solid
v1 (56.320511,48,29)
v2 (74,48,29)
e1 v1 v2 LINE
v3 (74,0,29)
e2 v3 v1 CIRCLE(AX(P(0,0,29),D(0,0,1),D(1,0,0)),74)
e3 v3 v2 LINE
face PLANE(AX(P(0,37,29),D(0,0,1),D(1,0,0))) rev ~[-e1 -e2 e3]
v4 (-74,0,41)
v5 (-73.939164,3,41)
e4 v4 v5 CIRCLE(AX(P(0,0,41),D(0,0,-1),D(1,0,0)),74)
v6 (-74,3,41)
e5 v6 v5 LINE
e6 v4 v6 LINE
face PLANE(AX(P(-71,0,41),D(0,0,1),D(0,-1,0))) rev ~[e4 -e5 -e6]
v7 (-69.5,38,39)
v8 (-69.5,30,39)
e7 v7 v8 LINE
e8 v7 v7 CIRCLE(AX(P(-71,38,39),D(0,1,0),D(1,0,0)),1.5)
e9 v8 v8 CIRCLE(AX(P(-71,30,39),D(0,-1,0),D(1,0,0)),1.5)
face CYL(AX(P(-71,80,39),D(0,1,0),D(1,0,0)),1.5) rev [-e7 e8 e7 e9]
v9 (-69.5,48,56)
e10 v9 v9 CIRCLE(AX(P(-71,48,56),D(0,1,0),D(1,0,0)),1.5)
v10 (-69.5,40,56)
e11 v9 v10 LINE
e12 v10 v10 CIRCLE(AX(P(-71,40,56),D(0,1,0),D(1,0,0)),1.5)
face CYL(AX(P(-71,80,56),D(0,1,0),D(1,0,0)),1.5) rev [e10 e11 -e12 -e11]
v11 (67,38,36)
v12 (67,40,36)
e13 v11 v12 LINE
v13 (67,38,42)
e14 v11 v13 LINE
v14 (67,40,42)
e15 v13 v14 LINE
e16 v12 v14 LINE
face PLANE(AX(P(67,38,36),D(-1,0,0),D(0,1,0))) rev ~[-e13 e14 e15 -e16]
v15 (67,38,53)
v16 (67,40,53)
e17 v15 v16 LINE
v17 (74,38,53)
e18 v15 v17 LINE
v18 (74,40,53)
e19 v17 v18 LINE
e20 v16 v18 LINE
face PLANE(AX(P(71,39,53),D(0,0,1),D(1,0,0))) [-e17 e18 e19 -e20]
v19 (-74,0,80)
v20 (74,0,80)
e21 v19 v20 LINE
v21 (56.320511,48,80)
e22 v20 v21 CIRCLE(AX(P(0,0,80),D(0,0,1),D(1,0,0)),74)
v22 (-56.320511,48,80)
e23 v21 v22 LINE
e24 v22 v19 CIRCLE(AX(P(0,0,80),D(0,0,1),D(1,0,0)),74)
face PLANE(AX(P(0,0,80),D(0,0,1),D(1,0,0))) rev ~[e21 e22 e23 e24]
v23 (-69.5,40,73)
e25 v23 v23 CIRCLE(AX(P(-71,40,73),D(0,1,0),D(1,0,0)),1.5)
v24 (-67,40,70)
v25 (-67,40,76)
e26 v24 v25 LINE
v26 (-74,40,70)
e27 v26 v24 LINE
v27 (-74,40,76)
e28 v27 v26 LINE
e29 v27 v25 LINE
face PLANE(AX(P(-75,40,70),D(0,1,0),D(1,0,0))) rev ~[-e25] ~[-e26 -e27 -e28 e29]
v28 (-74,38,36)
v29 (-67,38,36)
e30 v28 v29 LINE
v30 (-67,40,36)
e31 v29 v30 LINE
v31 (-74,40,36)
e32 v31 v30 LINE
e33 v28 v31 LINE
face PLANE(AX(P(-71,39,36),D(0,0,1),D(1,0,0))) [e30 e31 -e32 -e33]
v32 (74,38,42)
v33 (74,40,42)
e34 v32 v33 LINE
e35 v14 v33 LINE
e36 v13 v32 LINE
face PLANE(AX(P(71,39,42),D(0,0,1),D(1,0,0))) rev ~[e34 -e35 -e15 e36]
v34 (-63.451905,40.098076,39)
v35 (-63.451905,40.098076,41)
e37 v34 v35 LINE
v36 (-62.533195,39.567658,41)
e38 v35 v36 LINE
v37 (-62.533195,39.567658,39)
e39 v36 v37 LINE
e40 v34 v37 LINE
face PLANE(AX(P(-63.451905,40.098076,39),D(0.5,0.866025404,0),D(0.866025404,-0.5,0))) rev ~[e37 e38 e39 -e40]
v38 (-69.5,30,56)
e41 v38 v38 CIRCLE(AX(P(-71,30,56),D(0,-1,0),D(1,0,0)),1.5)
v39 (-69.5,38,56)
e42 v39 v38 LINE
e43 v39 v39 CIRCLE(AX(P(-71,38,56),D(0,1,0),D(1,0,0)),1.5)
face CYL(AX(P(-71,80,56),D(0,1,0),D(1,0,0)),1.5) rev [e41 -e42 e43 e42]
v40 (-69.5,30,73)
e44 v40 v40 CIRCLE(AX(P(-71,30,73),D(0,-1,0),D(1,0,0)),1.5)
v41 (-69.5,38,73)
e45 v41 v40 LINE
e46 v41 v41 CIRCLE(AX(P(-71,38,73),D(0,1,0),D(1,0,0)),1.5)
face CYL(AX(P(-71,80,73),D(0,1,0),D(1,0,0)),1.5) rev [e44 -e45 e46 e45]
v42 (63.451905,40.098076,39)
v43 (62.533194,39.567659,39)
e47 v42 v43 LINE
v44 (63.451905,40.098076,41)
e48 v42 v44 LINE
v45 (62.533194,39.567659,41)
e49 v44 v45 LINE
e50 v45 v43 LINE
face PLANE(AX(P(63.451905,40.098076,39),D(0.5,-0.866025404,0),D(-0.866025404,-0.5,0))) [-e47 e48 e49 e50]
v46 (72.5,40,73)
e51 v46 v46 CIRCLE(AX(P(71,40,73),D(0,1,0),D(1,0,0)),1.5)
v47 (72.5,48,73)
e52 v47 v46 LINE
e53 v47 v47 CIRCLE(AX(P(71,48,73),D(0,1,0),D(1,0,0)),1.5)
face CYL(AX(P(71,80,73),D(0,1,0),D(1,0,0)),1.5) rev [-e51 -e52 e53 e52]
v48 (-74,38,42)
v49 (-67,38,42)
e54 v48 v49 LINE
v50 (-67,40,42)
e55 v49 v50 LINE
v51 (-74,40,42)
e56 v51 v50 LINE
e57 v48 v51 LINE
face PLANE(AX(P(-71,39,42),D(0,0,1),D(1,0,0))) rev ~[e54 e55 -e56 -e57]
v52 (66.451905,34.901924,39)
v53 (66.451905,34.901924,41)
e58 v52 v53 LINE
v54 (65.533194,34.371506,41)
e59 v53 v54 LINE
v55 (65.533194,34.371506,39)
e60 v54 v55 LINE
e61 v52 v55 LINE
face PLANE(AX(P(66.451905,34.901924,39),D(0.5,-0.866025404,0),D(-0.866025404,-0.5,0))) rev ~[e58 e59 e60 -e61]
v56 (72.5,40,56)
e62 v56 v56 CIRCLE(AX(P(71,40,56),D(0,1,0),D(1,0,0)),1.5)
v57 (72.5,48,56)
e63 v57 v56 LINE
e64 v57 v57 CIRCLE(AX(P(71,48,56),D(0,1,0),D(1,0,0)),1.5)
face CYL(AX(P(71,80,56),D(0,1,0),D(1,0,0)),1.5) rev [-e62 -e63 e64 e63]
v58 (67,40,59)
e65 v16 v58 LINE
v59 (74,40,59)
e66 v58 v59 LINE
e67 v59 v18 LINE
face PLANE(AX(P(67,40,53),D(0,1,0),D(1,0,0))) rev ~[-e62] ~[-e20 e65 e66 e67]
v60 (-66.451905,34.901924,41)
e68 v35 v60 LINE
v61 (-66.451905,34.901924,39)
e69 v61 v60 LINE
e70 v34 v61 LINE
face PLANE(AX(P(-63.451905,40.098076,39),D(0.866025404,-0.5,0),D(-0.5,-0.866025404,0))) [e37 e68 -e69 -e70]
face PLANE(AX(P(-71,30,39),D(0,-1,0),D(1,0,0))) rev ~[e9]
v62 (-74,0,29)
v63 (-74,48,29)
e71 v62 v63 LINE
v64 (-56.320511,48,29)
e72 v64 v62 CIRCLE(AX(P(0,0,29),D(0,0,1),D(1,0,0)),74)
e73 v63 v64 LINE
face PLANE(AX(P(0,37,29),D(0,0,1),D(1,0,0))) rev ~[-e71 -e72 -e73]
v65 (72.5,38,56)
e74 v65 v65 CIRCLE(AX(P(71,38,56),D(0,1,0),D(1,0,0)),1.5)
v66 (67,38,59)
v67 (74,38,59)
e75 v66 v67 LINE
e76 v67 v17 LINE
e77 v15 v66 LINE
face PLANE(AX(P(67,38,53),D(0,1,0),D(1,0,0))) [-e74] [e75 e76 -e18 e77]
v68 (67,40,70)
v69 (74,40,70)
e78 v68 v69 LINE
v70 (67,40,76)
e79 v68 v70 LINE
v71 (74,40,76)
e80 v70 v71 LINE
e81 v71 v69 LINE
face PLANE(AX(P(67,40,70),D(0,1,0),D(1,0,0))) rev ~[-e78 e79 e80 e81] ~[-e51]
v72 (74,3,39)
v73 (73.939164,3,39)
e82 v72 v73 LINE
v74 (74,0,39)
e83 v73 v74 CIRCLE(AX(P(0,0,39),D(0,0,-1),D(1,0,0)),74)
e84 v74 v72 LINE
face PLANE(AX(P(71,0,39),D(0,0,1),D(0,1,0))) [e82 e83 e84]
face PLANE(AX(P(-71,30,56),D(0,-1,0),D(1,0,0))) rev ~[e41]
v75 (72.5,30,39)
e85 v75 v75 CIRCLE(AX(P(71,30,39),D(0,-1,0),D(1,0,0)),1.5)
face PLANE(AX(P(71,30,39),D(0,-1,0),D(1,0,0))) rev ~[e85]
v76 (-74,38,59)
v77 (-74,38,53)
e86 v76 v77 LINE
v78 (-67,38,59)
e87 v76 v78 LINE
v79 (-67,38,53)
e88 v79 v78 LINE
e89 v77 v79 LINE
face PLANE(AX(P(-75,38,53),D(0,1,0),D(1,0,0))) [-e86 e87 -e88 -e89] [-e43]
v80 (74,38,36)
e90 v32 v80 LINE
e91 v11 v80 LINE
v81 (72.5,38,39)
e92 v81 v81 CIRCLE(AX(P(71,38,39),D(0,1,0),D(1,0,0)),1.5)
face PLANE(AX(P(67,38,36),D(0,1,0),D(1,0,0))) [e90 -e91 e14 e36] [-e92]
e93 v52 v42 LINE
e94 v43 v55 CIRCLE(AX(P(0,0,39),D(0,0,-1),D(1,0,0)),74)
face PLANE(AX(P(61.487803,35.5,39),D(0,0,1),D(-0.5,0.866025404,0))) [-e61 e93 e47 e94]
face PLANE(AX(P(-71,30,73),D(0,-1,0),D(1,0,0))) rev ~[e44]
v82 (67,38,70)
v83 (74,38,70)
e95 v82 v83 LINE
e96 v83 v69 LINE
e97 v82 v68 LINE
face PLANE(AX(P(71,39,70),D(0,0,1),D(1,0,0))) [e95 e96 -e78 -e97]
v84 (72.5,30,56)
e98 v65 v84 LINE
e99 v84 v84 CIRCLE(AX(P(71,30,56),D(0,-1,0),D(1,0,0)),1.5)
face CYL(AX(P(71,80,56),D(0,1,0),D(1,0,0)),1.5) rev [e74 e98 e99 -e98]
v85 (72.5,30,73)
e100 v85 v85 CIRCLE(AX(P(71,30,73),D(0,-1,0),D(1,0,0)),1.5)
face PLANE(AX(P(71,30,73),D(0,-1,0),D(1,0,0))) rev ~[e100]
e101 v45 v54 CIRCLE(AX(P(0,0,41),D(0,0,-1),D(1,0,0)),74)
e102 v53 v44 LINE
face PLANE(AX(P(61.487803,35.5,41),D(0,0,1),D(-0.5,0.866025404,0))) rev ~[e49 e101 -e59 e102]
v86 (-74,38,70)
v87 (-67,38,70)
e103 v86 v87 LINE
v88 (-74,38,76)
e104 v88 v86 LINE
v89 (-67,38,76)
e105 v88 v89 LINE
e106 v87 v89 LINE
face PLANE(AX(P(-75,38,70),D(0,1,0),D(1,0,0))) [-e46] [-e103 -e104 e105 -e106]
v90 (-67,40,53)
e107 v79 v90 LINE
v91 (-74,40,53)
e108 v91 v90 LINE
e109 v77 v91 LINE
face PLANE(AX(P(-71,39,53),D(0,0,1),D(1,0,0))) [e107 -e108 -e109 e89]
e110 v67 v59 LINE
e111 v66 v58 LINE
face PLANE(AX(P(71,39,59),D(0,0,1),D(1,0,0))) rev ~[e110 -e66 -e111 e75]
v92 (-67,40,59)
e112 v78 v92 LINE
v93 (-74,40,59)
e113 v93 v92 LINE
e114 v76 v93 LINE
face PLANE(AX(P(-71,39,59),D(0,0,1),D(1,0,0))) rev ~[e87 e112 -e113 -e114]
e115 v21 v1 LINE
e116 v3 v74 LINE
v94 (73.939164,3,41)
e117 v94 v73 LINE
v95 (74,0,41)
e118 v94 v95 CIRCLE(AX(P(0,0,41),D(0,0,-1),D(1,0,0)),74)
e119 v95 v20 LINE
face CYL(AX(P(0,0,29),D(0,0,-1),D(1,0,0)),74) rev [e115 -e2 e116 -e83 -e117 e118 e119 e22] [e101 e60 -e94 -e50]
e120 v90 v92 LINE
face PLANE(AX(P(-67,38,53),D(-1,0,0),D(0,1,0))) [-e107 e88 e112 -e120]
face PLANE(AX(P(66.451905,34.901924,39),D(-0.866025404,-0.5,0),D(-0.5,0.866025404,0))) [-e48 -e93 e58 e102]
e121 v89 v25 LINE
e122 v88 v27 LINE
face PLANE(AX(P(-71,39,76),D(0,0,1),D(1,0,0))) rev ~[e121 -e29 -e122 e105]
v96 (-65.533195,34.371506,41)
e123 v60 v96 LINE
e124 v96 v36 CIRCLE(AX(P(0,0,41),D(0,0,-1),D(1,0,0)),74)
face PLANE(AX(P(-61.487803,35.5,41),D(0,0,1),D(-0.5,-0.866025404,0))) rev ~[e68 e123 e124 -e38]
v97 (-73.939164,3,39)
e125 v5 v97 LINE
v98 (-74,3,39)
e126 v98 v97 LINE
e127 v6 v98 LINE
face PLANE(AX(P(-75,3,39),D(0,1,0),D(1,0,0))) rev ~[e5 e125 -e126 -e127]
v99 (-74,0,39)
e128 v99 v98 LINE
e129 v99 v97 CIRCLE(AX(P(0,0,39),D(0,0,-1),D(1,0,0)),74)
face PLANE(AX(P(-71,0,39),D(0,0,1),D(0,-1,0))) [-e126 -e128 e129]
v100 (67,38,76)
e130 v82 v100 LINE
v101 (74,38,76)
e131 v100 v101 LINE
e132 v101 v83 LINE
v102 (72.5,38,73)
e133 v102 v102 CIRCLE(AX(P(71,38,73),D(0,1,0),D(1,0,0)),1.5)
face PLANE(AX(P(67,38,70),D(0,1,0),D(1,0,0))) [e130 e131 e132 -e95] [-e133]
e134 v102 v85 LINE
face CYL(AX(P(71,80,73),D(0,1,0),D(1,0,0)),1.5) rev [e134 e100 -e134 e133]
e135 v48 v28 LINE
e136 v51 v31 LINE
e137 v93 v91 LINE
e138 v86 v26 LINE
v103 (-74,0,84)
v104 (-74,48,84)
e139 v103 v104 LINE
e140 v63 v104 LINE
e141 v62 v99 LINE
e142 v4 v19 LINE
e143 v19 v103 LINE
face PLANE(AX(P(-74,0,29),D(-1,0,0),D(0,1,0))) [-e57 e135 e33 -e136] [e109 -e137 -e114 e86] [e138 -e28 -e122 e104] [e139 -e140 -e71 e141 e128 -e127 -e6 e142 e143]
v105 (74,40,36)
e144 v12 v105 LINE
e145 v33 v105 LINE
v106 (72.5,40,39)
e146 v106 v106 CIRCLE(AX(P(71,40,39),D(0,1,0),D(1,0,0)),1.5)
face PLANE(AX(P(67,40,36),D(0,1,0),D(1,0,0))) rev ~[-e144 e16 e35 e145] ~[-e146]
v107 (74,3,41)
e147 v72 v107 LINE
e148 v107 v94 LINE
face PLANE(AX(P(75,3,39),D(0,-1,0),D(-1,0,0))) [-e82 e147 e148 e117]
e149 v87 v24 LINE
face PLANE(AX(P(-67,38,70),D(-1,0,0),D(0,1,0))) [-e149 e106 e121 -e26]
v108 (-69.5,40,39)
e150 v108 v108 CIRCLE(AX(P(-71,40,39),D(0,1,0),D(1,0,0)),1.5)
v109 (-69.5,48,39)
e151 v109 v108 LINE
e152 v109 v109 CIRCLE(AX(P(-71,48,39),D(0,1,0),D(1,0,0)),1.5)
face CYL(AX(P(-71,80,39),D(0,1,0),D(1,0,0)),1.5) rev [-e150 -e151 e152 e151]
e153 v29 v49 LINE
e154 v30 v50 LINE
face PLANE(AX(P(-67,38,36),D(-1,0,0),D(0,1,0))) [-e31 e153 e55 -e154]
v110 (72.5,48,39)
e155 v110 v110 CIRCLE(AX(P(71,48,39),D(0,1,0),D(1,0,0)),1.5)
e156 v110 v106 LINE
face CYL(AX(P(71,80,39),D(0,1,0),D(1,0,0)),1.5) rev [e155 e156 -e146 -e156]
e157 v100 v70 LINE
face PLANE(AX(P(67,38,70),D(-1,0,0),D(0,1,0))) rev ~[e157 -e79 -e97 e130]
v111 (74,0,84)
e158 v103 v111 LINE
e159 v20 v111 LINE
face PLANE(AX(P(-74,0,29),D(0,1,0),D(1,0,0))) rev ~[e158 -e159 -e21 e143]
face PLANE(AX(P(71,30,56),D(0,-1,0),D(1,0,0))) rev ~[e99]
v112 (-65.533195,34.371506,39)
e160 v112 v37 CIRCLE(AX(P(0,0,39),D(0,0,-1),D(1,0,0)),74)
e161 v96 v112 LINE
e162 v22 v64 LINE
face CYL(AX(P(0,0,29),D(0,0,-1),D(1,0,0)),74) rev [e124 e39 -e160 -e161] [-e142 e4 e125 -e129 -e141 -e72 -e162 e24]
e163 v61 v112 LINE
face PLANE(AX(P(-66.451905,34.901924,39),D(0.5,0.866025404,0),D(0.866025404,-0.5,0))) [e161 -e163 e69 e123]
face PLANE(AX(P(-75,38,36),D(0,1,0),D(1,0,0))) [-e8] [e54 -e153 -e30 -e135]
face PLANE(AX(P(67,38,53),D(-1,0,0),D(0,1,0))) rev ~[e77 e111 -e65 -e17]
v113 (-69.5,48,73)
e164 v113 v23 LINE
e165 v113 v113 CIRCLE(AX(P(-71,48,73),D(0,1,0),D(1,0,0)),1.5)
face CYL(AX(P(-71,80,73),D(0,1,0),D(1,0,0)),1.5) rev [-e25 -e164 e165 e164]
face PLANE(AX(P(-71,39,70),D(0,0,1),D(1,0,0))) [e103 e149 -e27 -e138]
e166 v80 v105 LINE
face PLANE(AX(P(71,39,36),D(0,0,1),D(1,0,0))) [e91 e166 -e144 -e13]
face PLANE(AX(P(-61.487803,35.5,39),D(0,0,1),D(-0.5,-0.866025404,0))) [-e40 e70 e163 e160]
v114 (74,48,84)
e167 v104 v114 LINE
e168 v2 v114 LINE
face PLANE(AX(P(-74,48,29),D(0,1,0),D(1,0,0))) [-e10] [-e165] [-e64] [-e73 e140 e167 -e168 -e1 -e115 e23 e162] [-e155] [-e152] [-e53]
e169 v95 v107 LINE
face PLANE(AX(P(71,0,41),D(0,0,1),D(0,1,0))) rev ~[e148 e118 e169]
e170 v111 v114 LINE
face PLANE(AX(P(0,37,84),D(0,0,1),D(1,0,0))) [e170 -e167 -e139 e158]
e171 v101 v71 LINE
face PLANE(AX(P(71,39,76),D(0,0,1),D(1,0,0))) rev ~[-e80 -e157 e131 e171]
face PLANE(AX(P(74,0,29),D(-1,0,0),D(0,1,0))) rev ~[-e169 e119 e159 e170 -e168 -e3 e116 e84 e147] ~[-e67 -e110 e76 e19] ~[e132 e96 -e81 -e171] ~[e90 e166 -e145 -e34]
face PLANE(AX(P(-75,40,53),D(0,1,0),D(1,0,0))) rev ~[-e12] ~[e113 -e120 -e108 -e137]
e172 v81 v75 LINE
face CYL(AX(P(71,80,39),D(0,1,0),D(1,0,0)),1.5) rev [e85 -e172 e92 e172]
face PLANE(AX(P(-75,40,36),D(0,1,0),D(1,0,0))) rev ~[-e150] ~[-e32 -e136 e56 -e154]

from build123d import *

# Parameters (mm, degrees)
BOX700_W               = 6
BOX700_H               = 8
BOX700_DEPTH           = 2
BOX700_PLACEMENT_ANGLE = 30
BOX701_W               = 6
BOX701_H               = 8
BOX701_DEPTH           = 2
BOX701_PLACEMENT_ANGLE = 60
BOX702_W               = 6
BOX702_H               = 8
BOX702_DEPTH           = 2
BOX703_W               = 6
BOX703_H               = 8
BOX703_DEPTH           = 2
BOX703_PLACEMENT_ANGLE = 120
BOX704_W               = 6
BOX704_H               = 8
BOX704_DEPTH           = 2
BOX704_PLACEMENT_ANGLE = 150
BOX705_W               = 6
BOX705_H               = 8
BOX705_DEPTH           = 2
BOX706_W               = 6
BOX706_H               = 8
BOX706_DEPTH           = 2
BOX706_PLACEMENT_ANGLE = 210
BOX707_W               = 6
BOX707_H               = 8
BOX707_DEPTH           = 2
BOX707_PLACEMENT_ANGLE = 240
BOX708_W               = 6
BOX708_H               = 8
BOX708_DEPTH           = 2
BOX709_W               = 6
BOX709_H               = 8
BOX709_DEPTH           = 2
BOX709_PLACEMENT_ANGLE = 60
BOX710_W               = 6
BOX710_H               = 8
BOX710_DEPTH           = 2
BOX710_PLACEMENT_ANGLE = 30
BOX699_W               = 6
BOX699_H               = 8
BOX699_DEPTH           = 2
BOX513_W               = 8
BOX513_H               = 2
BOX513_DEPTH           = 6
BOX514_W               = 8
BOX514_H               = 2
BOX514_DEPTH           = 6
BOX515_W               = 8
BOX515_H               = 2
BOX515_DEPTH           = 6
BOX516_W               = 8
BOX516_H               = 2
BOX516_DEPTH           = 6
BOX517_W               = 8
BOX517_H               = 2
BOX517_DEPTH           = 6
BOX512_W               = 8
BOX512_H               = 2
BOX512_DEPTH           = 6
CYLINDER1754_R         = 1.5
CYLINDER1754_DEPTH     = 50
CYLINDER1755_R         = 1.5
CYLINDER1755_DEPTH     = 50
CYLINDER1756_R         = 1.5
CYLINDER1756_DEPTH     = 50
CYLINDER1757_R         = 1.5
CYLINDER1757_DEPTH     = 50
CYLINDER1758_R         = 1.5
CYLINDER1758_DEPTH     = 50
CYLINDER1753_R         = 1.5
CYLINDER1753_DEPTH     = 50
BOX484_W               = 148
BOX484_H               = 26
BOX484_DEPTH           = 55
CYLINDER972_R          = 74
CYLINDER972_DEPTH      = 51
BOX482_W               = 148
BOX482_H               = 74
BOX482_DEPTH           = 55


with BuildPart() as krychle700:
    # Box700 → Box700 (new body)
    with BuildSketch(Plane.XY):
        with Locations((3, 4)):
            Rectangle(BOX700_W, BOX700_H)
    extrude(amount=BOX700_DEPTH)


with BuildPart() as krychle700_1:
    # Box700 placement: moved
    add(krychle700.part.moved(Location((34.901924, -66.451905, 39))).rotate(Axis((34.901924, -66.451905, 39), (0, 0, 1)), BOX700_PLACEMENT_ANGLE))


with BuildPart() as krychle701:
    # Box701 → Box701 (new body)
    with BuildSketch(Plane.XY):
        with Locations((3, 4)):
            Rectangle(BOX701_W, BOX701_H)
    extrude(amount=BOX701_DEPTH)


with BuildPart() as krychle701_1:
    # Box701 placement: moved
    add(krychle701.part.moved(Location((63.451905, -40.098076, 39))).rotate(Axis((63.451905, -40.098076, 39), (0, 0, 1)), BOX701_PLACEMENT_ANGLE))


with BuildPart() as krychle702:
    # Box702 → Box702 (new body)
    with BuildSketch(Plane(origin=(75, -3, 39), x_dir=(0, 1, 0), z_dir=(0, 0, 1))):
        with Locations((3, 4)):
            Rectangle(BOX702_W, BOX702_H)
    extrude(amount=BOX702_DEPTH)


with BuildPart() as krychle703:
    # Box703 → Box703 (new body)
    with BuildSketch(Plane.XY):
        with Locations((3, 4)):
            Rectangle(BOX703_W, BOX703_H)
    extrude(amount=BOX703_DEPTH)


with BuildPart() as krychle703_1:
    # Box703 placement: moved
    add(krychle703.part.moved(Location((66.451905, 34.901924, 39))).rotate(Axis((66.451905, 34.901924, 39), (0, 0, 1)), BOX703_PLACEMENT_ANGLE))


with BuildPart() as krychle704:
    # Box704 → Box704 (new body)
    with BuildSketch(Plane.XY):
        with Locations((3, 4)):
            Rectangle(BOX704_W, BOX704_H)
    extrude(amount=BOX704_DEPTH)


with BuildPart() as krychle704_1:
    # Box704 placement: moved
    add(krychle704.part.moved(Location((40.098076, 63.451905, 39))).rotate(Axis((40.098076, 63.451905, 39), (0, 0, 1)), BOX704_PLACEMENT_ANGLE))


with BuildPart() as krychle705:
    # Box705 → Box705 (new body)
    with BuildSketch(Plane(origin=(3, 75, 39), x_dir=(-1, 0, 0), z_dir=(0, 0, 1))):
        with Locations((3, 4)):
            Rectangle(BOX705_W, BOX705_H)
    extrude(amount=BOX705_DEPTH)


with BuildPart() as krychle706:
    # Box706 → Box706 (new body)
    with BuildSketch(Plane.XY):
        with Locations((3, 4)):
            Rectangle(BOX706_W, BOX706_H)
    extrude(amount=BOX706_DEPTH)


with BuildPart() as krychle706_1:
    # Box706 placement: moved
    add(krychle706.part.moved(Location((-34.901924, 66.451905, 39))).rotate(Axis((-34.901924, 66.451905, 39), (0, 0, 1)), BOX706_PLACEMENT_ANGLE))


with BuildPart() as krychle707:
    # Box707 → Box707 (new body)
    with BuildSketch(Plane.XY):
        with Locations((3, 4)):
            Rectangle(BOX707_W, BOX707_H)
    extrude(amount=BOX707_DEPTH)


with BuildPart() as krychle707_1:
    # Box707 placement: moved
    add(krychle707.part.moved(Location((-63.451905, 40.098076, 39))).rotate(Axis((-63.451905, 40.098076, 39), (0, 0, 1)), BOX707_PLACEMENT_ANGLE))


with BuildPart() as krychle708:
    # Box708 → Box708 (new body)
    with BuildSketch(Plane(origin=(-75, 3, 39), x_dir=(0, -1, 0), z_dir=(0, 0, 1))):
        with Locations((3, 4)):
            Rectangle(BOX708_W, BOX708_H)
    extrude(amount=BOX708_DEPTH)


with BuildPart() as krychle709:
    # Box709 → Box709 (new body)
    with BuildSketch(Plane.XY):
        with Locations((3, 4)):
            Rectangle(BOX709_W, BOX709_H)
    extrude(amount=BOX709_DEPTH)


with BuildPart() as krychle709_1:
    # Box709 placement: moved
    add(krychle709.part.moved(Location((-66.451905, -34.901924, 39))).rotate(Axis((-66.451905, -34.901924, 39), (0, 0, -1)), BOX709_PLACEMENT_ANGLE))


with BuildPart() as krychle710:
    # Box710 → Box710 (new body)
    with BuildSketch(Plane.XY):
        with Locations((3, 4)):
            Rectangle(BOX710_W, BOX710_H)
    extrude(amount=BOX710_DEPTH)


with BuildPart() as krychle710_1:
    # Box710 placement: moved
    add(krychle710.part.moved(Location((-40.098076, -63.451905, 39))).rotate(Axis((-40.098076, -63.451905, 39), (0, 0, -1)), BOX710_PLACEMENT_ANGLE))


with BuildPart() as compound888:
    # Box699 → Box699 (new body)
    with BuildSketch(Plane(origin=(-3, -75, 39), x_dir=(1, 0, 0), z_dir=(0, 0, 1))):
        with Locations((3, 4)):
            Rectangle(BOX699_W, BOX699_H)
    extrude(amount=BOX699_DEPTH)

    # Compound888: union Krychle700, Krychle701, Krychle702, Krychle703, Krychle704, Krychle705, Krychle706, Krychle707, Krychle708, Krychle709, Krychle710
    add(krychle700_1.part)
    add(krychle701_1.part)
    add(krychle702.part)
    add(krychle703_1.part)
    add(krychle704_1.part)
    add(krychle705.part)
    add(krychle706_1.part)
    add(krychle707_1.part)
    add(krychle708.part)
    add(krychle709_1.part)
    add(krychle710_1.part)


with BuildPart() as krychle513:
    # Box513 → Box513 (new body)
    with BuildSketch(Plane(origin=(67, 38, 36), x_dir=(1, 0, 0), z_dir=(0, 0, 1))):
        with Locations((4, 1)):
            Rectangle(BOX513_W, BOX513_H)
    extrude(amount=BOX513_DEPTH)


with BuildPart() as krychle514:
    # Box514 → Box514 (new body)
    with BuildSketch(Plane(origin=(67, 38, 70), x_dir=(1, 0, 0), z_dir=(0, 0, 1))):
        with Locations((4, 1)):
            Rectangle(BOX514_W, BOX514_H)
    extrude(amount=BOX514_DEPTH)


with BuildPart() as krychle515:
    # Box515 → Box515 (new body)
    with BuildSketch(Plane(origin=(-75, 38, 70), x_dir=(1, 0, 0), z_dir=(0, 0, 1))):
        with Locations((4, 1)):
            Rectangle(BOX515_W, BOX515_H)
    extrude(amount=BOX515_DEPTH)


with BuildPart() as krychle516:
    # Box516 → Box516 (new body)
    with BuildSketch(Plane(origin=(-75, 38, 53), x_dir=(1, 0, 0), z_dir=(0, 0, 1))):
        with Locations((4, 1)):
            Rectangle(BOX516_W, BOX516_H)
    extrude(amount=BOX516_DEPTH)


with BuildPart() as krychle517:
    # Box517 → Box517 (new body)
    with BuildSketch(Plane(origin=(67, 38, 53), x_dir=(1, 0, 0), z_dir=(0, 0, 1))):
        with Locations((4, 1)):
            Rectangle(BOX517_W, BOX517_H)
    extrude(amount=BOX517_DEPTH)


with BuildPart() as compound530:
    # Box512 → Box512 (new body)
    with BuildSketch(Plane(origin=(-75, 38, 36), x_dir=(1, 0, 0), z_dir=(0, 0, 1))):
        with Locations((4, 1)):
            Rectangle(BOX512_W, BOX512_H)
    extrude(amount=BOX512_DEPTH)

    # Compound530: union Krychle513, Krychle514, Krychle515, Krychle516, Krychle517
    add(krychle513.part)
    add(krychle514.part)
    add(krychle515.part)
    add(krychle516.part)
    add(krychle517.part)


with BuildPart() as v_lec1754:
    # Cylinder1754 → Cylinder1754 (new body)
    with BuildSketch(Plane(origin=(71, 80, 39), x_dir=(1, 0, 0), z_dir=(0, -1, 0))):
        Circle(CYLINDER1754_R)
    extrude(amount=CYLINDER1754_DEPTH)


with BuildPart() as v_lec1755:
    # Cylinder1755 → Cylinder1755 (new body)
    with BuildSketch(Plane(origin=(-71, 80, 39), x_dir=(1, 0, 0), z_dir=(0, -1, 0))):
        Circle(CYLINDER1755_R)
    extrude(amount=CYLINDER1755_DEPTH)


with BuildPart() as v_lec1756:
    # Cylinder1756 → Cylinder1756 (new body)
    with BuildSketch(Plane(origin=(71, 80, 73), x_dir=(1, 0, 0), z_dir=(0, -1, 0))):
        Circle(CYLINDER1756_R)
    extrude(amount=CYLINDER1756_DEPTH)


with BuildPart() as v_lec1757:
    # Cylinder1757 → Cylinder1757 (new body)
    with BuildSketch(Plane(origin=(-71, 80, 56), x_dir=(1, 0, 0), z_dir=(0, -1, 0))):
        Circle(CYLINDER1757_R)
    extrude(amount=CYLINDER1757_DEPTH)


with BuildPart() as v_lec1758:
    # Cylinder1758 → Cylinder1758 (new body)
    with BuildSketch(Plane(origin=(71, 80, 56), x_dir=(1, 0, 0), z_dir=(0, -1, 0))):
        Circle(CYLINDER1758_R)
    extrude(amount=CYLINDER1758_DEPTH)


with BuildPart() as compound887:
    # Cylinder1753 → Cylinder1753 (new body)
    with BuildSketch(Plane(origin=(-71, 80, 73), x_dir=(1, 0, 0), z_dir=(0, -1, 0))):
        Circle(CYLINDER1753_R)
    extrude(amount=CYLINDER1753_DEPTH)

    # Compound887: union Válec1754, Válec1755, Válec1756, Válec1757, Válec1758
    add(v_lec1754.part)
    add(v_lec1755.part)
    add(v_lec1756.part)
    add(v_lec1757.part)
    add(v_lec1758.part)


with BuildPart() as krychle484:
    # Box484 → Box484 (new body)
    with BuildSketch(Plane(origin=(-74, 48, 29), x_dir=(1, 0, 0), z_dir=(0, 0, 1))):
        with Locations((74, 13)):
            Rectangle(BOX484_W, BOX484_H)
    extrude(amount=BOX484_DEPTH)


with BuildPart() as v_lec972:
    # Cylinder972 → Cylinder972 (new body)
    with BuildSketch(Plane.XY.offset(29)):
        Circle(CYLINDER972_R)
    extrude(amount=CYLINDER972_DEPTH)


with BuildPart() as cut520:
    # Box482 → Box482 (new body)
    with BuildSketch(Plane(origin=(-74, 0, 29), x_dir=(1, 0, 0), z_dir=(0, 0, 1))):
        with Locations((74, 37)):
            Rectangle(BOX482_W, BOX482_H)
    extrude(amount=BOX482_DEPTH)

    # Cut451: cut Válec972
    add(v_lec972.part, mode=Mode.SUBTRACT)

    # Cut452: cut Krychle484
    add(krychle484.part, mode=Mode.SUBTRACT)

    # Cut518: cut Compound887
    add(compound887.part, mode=Mode.SUBTRACT)

    # Cut519: cut Compound530
    add(compound530.part, mode=Mode.SUBTRACT)

    # Cut520: cut Compound888
    add(compound888.part, mode=Mode.SUBTRACT)


solid = cut520.part
